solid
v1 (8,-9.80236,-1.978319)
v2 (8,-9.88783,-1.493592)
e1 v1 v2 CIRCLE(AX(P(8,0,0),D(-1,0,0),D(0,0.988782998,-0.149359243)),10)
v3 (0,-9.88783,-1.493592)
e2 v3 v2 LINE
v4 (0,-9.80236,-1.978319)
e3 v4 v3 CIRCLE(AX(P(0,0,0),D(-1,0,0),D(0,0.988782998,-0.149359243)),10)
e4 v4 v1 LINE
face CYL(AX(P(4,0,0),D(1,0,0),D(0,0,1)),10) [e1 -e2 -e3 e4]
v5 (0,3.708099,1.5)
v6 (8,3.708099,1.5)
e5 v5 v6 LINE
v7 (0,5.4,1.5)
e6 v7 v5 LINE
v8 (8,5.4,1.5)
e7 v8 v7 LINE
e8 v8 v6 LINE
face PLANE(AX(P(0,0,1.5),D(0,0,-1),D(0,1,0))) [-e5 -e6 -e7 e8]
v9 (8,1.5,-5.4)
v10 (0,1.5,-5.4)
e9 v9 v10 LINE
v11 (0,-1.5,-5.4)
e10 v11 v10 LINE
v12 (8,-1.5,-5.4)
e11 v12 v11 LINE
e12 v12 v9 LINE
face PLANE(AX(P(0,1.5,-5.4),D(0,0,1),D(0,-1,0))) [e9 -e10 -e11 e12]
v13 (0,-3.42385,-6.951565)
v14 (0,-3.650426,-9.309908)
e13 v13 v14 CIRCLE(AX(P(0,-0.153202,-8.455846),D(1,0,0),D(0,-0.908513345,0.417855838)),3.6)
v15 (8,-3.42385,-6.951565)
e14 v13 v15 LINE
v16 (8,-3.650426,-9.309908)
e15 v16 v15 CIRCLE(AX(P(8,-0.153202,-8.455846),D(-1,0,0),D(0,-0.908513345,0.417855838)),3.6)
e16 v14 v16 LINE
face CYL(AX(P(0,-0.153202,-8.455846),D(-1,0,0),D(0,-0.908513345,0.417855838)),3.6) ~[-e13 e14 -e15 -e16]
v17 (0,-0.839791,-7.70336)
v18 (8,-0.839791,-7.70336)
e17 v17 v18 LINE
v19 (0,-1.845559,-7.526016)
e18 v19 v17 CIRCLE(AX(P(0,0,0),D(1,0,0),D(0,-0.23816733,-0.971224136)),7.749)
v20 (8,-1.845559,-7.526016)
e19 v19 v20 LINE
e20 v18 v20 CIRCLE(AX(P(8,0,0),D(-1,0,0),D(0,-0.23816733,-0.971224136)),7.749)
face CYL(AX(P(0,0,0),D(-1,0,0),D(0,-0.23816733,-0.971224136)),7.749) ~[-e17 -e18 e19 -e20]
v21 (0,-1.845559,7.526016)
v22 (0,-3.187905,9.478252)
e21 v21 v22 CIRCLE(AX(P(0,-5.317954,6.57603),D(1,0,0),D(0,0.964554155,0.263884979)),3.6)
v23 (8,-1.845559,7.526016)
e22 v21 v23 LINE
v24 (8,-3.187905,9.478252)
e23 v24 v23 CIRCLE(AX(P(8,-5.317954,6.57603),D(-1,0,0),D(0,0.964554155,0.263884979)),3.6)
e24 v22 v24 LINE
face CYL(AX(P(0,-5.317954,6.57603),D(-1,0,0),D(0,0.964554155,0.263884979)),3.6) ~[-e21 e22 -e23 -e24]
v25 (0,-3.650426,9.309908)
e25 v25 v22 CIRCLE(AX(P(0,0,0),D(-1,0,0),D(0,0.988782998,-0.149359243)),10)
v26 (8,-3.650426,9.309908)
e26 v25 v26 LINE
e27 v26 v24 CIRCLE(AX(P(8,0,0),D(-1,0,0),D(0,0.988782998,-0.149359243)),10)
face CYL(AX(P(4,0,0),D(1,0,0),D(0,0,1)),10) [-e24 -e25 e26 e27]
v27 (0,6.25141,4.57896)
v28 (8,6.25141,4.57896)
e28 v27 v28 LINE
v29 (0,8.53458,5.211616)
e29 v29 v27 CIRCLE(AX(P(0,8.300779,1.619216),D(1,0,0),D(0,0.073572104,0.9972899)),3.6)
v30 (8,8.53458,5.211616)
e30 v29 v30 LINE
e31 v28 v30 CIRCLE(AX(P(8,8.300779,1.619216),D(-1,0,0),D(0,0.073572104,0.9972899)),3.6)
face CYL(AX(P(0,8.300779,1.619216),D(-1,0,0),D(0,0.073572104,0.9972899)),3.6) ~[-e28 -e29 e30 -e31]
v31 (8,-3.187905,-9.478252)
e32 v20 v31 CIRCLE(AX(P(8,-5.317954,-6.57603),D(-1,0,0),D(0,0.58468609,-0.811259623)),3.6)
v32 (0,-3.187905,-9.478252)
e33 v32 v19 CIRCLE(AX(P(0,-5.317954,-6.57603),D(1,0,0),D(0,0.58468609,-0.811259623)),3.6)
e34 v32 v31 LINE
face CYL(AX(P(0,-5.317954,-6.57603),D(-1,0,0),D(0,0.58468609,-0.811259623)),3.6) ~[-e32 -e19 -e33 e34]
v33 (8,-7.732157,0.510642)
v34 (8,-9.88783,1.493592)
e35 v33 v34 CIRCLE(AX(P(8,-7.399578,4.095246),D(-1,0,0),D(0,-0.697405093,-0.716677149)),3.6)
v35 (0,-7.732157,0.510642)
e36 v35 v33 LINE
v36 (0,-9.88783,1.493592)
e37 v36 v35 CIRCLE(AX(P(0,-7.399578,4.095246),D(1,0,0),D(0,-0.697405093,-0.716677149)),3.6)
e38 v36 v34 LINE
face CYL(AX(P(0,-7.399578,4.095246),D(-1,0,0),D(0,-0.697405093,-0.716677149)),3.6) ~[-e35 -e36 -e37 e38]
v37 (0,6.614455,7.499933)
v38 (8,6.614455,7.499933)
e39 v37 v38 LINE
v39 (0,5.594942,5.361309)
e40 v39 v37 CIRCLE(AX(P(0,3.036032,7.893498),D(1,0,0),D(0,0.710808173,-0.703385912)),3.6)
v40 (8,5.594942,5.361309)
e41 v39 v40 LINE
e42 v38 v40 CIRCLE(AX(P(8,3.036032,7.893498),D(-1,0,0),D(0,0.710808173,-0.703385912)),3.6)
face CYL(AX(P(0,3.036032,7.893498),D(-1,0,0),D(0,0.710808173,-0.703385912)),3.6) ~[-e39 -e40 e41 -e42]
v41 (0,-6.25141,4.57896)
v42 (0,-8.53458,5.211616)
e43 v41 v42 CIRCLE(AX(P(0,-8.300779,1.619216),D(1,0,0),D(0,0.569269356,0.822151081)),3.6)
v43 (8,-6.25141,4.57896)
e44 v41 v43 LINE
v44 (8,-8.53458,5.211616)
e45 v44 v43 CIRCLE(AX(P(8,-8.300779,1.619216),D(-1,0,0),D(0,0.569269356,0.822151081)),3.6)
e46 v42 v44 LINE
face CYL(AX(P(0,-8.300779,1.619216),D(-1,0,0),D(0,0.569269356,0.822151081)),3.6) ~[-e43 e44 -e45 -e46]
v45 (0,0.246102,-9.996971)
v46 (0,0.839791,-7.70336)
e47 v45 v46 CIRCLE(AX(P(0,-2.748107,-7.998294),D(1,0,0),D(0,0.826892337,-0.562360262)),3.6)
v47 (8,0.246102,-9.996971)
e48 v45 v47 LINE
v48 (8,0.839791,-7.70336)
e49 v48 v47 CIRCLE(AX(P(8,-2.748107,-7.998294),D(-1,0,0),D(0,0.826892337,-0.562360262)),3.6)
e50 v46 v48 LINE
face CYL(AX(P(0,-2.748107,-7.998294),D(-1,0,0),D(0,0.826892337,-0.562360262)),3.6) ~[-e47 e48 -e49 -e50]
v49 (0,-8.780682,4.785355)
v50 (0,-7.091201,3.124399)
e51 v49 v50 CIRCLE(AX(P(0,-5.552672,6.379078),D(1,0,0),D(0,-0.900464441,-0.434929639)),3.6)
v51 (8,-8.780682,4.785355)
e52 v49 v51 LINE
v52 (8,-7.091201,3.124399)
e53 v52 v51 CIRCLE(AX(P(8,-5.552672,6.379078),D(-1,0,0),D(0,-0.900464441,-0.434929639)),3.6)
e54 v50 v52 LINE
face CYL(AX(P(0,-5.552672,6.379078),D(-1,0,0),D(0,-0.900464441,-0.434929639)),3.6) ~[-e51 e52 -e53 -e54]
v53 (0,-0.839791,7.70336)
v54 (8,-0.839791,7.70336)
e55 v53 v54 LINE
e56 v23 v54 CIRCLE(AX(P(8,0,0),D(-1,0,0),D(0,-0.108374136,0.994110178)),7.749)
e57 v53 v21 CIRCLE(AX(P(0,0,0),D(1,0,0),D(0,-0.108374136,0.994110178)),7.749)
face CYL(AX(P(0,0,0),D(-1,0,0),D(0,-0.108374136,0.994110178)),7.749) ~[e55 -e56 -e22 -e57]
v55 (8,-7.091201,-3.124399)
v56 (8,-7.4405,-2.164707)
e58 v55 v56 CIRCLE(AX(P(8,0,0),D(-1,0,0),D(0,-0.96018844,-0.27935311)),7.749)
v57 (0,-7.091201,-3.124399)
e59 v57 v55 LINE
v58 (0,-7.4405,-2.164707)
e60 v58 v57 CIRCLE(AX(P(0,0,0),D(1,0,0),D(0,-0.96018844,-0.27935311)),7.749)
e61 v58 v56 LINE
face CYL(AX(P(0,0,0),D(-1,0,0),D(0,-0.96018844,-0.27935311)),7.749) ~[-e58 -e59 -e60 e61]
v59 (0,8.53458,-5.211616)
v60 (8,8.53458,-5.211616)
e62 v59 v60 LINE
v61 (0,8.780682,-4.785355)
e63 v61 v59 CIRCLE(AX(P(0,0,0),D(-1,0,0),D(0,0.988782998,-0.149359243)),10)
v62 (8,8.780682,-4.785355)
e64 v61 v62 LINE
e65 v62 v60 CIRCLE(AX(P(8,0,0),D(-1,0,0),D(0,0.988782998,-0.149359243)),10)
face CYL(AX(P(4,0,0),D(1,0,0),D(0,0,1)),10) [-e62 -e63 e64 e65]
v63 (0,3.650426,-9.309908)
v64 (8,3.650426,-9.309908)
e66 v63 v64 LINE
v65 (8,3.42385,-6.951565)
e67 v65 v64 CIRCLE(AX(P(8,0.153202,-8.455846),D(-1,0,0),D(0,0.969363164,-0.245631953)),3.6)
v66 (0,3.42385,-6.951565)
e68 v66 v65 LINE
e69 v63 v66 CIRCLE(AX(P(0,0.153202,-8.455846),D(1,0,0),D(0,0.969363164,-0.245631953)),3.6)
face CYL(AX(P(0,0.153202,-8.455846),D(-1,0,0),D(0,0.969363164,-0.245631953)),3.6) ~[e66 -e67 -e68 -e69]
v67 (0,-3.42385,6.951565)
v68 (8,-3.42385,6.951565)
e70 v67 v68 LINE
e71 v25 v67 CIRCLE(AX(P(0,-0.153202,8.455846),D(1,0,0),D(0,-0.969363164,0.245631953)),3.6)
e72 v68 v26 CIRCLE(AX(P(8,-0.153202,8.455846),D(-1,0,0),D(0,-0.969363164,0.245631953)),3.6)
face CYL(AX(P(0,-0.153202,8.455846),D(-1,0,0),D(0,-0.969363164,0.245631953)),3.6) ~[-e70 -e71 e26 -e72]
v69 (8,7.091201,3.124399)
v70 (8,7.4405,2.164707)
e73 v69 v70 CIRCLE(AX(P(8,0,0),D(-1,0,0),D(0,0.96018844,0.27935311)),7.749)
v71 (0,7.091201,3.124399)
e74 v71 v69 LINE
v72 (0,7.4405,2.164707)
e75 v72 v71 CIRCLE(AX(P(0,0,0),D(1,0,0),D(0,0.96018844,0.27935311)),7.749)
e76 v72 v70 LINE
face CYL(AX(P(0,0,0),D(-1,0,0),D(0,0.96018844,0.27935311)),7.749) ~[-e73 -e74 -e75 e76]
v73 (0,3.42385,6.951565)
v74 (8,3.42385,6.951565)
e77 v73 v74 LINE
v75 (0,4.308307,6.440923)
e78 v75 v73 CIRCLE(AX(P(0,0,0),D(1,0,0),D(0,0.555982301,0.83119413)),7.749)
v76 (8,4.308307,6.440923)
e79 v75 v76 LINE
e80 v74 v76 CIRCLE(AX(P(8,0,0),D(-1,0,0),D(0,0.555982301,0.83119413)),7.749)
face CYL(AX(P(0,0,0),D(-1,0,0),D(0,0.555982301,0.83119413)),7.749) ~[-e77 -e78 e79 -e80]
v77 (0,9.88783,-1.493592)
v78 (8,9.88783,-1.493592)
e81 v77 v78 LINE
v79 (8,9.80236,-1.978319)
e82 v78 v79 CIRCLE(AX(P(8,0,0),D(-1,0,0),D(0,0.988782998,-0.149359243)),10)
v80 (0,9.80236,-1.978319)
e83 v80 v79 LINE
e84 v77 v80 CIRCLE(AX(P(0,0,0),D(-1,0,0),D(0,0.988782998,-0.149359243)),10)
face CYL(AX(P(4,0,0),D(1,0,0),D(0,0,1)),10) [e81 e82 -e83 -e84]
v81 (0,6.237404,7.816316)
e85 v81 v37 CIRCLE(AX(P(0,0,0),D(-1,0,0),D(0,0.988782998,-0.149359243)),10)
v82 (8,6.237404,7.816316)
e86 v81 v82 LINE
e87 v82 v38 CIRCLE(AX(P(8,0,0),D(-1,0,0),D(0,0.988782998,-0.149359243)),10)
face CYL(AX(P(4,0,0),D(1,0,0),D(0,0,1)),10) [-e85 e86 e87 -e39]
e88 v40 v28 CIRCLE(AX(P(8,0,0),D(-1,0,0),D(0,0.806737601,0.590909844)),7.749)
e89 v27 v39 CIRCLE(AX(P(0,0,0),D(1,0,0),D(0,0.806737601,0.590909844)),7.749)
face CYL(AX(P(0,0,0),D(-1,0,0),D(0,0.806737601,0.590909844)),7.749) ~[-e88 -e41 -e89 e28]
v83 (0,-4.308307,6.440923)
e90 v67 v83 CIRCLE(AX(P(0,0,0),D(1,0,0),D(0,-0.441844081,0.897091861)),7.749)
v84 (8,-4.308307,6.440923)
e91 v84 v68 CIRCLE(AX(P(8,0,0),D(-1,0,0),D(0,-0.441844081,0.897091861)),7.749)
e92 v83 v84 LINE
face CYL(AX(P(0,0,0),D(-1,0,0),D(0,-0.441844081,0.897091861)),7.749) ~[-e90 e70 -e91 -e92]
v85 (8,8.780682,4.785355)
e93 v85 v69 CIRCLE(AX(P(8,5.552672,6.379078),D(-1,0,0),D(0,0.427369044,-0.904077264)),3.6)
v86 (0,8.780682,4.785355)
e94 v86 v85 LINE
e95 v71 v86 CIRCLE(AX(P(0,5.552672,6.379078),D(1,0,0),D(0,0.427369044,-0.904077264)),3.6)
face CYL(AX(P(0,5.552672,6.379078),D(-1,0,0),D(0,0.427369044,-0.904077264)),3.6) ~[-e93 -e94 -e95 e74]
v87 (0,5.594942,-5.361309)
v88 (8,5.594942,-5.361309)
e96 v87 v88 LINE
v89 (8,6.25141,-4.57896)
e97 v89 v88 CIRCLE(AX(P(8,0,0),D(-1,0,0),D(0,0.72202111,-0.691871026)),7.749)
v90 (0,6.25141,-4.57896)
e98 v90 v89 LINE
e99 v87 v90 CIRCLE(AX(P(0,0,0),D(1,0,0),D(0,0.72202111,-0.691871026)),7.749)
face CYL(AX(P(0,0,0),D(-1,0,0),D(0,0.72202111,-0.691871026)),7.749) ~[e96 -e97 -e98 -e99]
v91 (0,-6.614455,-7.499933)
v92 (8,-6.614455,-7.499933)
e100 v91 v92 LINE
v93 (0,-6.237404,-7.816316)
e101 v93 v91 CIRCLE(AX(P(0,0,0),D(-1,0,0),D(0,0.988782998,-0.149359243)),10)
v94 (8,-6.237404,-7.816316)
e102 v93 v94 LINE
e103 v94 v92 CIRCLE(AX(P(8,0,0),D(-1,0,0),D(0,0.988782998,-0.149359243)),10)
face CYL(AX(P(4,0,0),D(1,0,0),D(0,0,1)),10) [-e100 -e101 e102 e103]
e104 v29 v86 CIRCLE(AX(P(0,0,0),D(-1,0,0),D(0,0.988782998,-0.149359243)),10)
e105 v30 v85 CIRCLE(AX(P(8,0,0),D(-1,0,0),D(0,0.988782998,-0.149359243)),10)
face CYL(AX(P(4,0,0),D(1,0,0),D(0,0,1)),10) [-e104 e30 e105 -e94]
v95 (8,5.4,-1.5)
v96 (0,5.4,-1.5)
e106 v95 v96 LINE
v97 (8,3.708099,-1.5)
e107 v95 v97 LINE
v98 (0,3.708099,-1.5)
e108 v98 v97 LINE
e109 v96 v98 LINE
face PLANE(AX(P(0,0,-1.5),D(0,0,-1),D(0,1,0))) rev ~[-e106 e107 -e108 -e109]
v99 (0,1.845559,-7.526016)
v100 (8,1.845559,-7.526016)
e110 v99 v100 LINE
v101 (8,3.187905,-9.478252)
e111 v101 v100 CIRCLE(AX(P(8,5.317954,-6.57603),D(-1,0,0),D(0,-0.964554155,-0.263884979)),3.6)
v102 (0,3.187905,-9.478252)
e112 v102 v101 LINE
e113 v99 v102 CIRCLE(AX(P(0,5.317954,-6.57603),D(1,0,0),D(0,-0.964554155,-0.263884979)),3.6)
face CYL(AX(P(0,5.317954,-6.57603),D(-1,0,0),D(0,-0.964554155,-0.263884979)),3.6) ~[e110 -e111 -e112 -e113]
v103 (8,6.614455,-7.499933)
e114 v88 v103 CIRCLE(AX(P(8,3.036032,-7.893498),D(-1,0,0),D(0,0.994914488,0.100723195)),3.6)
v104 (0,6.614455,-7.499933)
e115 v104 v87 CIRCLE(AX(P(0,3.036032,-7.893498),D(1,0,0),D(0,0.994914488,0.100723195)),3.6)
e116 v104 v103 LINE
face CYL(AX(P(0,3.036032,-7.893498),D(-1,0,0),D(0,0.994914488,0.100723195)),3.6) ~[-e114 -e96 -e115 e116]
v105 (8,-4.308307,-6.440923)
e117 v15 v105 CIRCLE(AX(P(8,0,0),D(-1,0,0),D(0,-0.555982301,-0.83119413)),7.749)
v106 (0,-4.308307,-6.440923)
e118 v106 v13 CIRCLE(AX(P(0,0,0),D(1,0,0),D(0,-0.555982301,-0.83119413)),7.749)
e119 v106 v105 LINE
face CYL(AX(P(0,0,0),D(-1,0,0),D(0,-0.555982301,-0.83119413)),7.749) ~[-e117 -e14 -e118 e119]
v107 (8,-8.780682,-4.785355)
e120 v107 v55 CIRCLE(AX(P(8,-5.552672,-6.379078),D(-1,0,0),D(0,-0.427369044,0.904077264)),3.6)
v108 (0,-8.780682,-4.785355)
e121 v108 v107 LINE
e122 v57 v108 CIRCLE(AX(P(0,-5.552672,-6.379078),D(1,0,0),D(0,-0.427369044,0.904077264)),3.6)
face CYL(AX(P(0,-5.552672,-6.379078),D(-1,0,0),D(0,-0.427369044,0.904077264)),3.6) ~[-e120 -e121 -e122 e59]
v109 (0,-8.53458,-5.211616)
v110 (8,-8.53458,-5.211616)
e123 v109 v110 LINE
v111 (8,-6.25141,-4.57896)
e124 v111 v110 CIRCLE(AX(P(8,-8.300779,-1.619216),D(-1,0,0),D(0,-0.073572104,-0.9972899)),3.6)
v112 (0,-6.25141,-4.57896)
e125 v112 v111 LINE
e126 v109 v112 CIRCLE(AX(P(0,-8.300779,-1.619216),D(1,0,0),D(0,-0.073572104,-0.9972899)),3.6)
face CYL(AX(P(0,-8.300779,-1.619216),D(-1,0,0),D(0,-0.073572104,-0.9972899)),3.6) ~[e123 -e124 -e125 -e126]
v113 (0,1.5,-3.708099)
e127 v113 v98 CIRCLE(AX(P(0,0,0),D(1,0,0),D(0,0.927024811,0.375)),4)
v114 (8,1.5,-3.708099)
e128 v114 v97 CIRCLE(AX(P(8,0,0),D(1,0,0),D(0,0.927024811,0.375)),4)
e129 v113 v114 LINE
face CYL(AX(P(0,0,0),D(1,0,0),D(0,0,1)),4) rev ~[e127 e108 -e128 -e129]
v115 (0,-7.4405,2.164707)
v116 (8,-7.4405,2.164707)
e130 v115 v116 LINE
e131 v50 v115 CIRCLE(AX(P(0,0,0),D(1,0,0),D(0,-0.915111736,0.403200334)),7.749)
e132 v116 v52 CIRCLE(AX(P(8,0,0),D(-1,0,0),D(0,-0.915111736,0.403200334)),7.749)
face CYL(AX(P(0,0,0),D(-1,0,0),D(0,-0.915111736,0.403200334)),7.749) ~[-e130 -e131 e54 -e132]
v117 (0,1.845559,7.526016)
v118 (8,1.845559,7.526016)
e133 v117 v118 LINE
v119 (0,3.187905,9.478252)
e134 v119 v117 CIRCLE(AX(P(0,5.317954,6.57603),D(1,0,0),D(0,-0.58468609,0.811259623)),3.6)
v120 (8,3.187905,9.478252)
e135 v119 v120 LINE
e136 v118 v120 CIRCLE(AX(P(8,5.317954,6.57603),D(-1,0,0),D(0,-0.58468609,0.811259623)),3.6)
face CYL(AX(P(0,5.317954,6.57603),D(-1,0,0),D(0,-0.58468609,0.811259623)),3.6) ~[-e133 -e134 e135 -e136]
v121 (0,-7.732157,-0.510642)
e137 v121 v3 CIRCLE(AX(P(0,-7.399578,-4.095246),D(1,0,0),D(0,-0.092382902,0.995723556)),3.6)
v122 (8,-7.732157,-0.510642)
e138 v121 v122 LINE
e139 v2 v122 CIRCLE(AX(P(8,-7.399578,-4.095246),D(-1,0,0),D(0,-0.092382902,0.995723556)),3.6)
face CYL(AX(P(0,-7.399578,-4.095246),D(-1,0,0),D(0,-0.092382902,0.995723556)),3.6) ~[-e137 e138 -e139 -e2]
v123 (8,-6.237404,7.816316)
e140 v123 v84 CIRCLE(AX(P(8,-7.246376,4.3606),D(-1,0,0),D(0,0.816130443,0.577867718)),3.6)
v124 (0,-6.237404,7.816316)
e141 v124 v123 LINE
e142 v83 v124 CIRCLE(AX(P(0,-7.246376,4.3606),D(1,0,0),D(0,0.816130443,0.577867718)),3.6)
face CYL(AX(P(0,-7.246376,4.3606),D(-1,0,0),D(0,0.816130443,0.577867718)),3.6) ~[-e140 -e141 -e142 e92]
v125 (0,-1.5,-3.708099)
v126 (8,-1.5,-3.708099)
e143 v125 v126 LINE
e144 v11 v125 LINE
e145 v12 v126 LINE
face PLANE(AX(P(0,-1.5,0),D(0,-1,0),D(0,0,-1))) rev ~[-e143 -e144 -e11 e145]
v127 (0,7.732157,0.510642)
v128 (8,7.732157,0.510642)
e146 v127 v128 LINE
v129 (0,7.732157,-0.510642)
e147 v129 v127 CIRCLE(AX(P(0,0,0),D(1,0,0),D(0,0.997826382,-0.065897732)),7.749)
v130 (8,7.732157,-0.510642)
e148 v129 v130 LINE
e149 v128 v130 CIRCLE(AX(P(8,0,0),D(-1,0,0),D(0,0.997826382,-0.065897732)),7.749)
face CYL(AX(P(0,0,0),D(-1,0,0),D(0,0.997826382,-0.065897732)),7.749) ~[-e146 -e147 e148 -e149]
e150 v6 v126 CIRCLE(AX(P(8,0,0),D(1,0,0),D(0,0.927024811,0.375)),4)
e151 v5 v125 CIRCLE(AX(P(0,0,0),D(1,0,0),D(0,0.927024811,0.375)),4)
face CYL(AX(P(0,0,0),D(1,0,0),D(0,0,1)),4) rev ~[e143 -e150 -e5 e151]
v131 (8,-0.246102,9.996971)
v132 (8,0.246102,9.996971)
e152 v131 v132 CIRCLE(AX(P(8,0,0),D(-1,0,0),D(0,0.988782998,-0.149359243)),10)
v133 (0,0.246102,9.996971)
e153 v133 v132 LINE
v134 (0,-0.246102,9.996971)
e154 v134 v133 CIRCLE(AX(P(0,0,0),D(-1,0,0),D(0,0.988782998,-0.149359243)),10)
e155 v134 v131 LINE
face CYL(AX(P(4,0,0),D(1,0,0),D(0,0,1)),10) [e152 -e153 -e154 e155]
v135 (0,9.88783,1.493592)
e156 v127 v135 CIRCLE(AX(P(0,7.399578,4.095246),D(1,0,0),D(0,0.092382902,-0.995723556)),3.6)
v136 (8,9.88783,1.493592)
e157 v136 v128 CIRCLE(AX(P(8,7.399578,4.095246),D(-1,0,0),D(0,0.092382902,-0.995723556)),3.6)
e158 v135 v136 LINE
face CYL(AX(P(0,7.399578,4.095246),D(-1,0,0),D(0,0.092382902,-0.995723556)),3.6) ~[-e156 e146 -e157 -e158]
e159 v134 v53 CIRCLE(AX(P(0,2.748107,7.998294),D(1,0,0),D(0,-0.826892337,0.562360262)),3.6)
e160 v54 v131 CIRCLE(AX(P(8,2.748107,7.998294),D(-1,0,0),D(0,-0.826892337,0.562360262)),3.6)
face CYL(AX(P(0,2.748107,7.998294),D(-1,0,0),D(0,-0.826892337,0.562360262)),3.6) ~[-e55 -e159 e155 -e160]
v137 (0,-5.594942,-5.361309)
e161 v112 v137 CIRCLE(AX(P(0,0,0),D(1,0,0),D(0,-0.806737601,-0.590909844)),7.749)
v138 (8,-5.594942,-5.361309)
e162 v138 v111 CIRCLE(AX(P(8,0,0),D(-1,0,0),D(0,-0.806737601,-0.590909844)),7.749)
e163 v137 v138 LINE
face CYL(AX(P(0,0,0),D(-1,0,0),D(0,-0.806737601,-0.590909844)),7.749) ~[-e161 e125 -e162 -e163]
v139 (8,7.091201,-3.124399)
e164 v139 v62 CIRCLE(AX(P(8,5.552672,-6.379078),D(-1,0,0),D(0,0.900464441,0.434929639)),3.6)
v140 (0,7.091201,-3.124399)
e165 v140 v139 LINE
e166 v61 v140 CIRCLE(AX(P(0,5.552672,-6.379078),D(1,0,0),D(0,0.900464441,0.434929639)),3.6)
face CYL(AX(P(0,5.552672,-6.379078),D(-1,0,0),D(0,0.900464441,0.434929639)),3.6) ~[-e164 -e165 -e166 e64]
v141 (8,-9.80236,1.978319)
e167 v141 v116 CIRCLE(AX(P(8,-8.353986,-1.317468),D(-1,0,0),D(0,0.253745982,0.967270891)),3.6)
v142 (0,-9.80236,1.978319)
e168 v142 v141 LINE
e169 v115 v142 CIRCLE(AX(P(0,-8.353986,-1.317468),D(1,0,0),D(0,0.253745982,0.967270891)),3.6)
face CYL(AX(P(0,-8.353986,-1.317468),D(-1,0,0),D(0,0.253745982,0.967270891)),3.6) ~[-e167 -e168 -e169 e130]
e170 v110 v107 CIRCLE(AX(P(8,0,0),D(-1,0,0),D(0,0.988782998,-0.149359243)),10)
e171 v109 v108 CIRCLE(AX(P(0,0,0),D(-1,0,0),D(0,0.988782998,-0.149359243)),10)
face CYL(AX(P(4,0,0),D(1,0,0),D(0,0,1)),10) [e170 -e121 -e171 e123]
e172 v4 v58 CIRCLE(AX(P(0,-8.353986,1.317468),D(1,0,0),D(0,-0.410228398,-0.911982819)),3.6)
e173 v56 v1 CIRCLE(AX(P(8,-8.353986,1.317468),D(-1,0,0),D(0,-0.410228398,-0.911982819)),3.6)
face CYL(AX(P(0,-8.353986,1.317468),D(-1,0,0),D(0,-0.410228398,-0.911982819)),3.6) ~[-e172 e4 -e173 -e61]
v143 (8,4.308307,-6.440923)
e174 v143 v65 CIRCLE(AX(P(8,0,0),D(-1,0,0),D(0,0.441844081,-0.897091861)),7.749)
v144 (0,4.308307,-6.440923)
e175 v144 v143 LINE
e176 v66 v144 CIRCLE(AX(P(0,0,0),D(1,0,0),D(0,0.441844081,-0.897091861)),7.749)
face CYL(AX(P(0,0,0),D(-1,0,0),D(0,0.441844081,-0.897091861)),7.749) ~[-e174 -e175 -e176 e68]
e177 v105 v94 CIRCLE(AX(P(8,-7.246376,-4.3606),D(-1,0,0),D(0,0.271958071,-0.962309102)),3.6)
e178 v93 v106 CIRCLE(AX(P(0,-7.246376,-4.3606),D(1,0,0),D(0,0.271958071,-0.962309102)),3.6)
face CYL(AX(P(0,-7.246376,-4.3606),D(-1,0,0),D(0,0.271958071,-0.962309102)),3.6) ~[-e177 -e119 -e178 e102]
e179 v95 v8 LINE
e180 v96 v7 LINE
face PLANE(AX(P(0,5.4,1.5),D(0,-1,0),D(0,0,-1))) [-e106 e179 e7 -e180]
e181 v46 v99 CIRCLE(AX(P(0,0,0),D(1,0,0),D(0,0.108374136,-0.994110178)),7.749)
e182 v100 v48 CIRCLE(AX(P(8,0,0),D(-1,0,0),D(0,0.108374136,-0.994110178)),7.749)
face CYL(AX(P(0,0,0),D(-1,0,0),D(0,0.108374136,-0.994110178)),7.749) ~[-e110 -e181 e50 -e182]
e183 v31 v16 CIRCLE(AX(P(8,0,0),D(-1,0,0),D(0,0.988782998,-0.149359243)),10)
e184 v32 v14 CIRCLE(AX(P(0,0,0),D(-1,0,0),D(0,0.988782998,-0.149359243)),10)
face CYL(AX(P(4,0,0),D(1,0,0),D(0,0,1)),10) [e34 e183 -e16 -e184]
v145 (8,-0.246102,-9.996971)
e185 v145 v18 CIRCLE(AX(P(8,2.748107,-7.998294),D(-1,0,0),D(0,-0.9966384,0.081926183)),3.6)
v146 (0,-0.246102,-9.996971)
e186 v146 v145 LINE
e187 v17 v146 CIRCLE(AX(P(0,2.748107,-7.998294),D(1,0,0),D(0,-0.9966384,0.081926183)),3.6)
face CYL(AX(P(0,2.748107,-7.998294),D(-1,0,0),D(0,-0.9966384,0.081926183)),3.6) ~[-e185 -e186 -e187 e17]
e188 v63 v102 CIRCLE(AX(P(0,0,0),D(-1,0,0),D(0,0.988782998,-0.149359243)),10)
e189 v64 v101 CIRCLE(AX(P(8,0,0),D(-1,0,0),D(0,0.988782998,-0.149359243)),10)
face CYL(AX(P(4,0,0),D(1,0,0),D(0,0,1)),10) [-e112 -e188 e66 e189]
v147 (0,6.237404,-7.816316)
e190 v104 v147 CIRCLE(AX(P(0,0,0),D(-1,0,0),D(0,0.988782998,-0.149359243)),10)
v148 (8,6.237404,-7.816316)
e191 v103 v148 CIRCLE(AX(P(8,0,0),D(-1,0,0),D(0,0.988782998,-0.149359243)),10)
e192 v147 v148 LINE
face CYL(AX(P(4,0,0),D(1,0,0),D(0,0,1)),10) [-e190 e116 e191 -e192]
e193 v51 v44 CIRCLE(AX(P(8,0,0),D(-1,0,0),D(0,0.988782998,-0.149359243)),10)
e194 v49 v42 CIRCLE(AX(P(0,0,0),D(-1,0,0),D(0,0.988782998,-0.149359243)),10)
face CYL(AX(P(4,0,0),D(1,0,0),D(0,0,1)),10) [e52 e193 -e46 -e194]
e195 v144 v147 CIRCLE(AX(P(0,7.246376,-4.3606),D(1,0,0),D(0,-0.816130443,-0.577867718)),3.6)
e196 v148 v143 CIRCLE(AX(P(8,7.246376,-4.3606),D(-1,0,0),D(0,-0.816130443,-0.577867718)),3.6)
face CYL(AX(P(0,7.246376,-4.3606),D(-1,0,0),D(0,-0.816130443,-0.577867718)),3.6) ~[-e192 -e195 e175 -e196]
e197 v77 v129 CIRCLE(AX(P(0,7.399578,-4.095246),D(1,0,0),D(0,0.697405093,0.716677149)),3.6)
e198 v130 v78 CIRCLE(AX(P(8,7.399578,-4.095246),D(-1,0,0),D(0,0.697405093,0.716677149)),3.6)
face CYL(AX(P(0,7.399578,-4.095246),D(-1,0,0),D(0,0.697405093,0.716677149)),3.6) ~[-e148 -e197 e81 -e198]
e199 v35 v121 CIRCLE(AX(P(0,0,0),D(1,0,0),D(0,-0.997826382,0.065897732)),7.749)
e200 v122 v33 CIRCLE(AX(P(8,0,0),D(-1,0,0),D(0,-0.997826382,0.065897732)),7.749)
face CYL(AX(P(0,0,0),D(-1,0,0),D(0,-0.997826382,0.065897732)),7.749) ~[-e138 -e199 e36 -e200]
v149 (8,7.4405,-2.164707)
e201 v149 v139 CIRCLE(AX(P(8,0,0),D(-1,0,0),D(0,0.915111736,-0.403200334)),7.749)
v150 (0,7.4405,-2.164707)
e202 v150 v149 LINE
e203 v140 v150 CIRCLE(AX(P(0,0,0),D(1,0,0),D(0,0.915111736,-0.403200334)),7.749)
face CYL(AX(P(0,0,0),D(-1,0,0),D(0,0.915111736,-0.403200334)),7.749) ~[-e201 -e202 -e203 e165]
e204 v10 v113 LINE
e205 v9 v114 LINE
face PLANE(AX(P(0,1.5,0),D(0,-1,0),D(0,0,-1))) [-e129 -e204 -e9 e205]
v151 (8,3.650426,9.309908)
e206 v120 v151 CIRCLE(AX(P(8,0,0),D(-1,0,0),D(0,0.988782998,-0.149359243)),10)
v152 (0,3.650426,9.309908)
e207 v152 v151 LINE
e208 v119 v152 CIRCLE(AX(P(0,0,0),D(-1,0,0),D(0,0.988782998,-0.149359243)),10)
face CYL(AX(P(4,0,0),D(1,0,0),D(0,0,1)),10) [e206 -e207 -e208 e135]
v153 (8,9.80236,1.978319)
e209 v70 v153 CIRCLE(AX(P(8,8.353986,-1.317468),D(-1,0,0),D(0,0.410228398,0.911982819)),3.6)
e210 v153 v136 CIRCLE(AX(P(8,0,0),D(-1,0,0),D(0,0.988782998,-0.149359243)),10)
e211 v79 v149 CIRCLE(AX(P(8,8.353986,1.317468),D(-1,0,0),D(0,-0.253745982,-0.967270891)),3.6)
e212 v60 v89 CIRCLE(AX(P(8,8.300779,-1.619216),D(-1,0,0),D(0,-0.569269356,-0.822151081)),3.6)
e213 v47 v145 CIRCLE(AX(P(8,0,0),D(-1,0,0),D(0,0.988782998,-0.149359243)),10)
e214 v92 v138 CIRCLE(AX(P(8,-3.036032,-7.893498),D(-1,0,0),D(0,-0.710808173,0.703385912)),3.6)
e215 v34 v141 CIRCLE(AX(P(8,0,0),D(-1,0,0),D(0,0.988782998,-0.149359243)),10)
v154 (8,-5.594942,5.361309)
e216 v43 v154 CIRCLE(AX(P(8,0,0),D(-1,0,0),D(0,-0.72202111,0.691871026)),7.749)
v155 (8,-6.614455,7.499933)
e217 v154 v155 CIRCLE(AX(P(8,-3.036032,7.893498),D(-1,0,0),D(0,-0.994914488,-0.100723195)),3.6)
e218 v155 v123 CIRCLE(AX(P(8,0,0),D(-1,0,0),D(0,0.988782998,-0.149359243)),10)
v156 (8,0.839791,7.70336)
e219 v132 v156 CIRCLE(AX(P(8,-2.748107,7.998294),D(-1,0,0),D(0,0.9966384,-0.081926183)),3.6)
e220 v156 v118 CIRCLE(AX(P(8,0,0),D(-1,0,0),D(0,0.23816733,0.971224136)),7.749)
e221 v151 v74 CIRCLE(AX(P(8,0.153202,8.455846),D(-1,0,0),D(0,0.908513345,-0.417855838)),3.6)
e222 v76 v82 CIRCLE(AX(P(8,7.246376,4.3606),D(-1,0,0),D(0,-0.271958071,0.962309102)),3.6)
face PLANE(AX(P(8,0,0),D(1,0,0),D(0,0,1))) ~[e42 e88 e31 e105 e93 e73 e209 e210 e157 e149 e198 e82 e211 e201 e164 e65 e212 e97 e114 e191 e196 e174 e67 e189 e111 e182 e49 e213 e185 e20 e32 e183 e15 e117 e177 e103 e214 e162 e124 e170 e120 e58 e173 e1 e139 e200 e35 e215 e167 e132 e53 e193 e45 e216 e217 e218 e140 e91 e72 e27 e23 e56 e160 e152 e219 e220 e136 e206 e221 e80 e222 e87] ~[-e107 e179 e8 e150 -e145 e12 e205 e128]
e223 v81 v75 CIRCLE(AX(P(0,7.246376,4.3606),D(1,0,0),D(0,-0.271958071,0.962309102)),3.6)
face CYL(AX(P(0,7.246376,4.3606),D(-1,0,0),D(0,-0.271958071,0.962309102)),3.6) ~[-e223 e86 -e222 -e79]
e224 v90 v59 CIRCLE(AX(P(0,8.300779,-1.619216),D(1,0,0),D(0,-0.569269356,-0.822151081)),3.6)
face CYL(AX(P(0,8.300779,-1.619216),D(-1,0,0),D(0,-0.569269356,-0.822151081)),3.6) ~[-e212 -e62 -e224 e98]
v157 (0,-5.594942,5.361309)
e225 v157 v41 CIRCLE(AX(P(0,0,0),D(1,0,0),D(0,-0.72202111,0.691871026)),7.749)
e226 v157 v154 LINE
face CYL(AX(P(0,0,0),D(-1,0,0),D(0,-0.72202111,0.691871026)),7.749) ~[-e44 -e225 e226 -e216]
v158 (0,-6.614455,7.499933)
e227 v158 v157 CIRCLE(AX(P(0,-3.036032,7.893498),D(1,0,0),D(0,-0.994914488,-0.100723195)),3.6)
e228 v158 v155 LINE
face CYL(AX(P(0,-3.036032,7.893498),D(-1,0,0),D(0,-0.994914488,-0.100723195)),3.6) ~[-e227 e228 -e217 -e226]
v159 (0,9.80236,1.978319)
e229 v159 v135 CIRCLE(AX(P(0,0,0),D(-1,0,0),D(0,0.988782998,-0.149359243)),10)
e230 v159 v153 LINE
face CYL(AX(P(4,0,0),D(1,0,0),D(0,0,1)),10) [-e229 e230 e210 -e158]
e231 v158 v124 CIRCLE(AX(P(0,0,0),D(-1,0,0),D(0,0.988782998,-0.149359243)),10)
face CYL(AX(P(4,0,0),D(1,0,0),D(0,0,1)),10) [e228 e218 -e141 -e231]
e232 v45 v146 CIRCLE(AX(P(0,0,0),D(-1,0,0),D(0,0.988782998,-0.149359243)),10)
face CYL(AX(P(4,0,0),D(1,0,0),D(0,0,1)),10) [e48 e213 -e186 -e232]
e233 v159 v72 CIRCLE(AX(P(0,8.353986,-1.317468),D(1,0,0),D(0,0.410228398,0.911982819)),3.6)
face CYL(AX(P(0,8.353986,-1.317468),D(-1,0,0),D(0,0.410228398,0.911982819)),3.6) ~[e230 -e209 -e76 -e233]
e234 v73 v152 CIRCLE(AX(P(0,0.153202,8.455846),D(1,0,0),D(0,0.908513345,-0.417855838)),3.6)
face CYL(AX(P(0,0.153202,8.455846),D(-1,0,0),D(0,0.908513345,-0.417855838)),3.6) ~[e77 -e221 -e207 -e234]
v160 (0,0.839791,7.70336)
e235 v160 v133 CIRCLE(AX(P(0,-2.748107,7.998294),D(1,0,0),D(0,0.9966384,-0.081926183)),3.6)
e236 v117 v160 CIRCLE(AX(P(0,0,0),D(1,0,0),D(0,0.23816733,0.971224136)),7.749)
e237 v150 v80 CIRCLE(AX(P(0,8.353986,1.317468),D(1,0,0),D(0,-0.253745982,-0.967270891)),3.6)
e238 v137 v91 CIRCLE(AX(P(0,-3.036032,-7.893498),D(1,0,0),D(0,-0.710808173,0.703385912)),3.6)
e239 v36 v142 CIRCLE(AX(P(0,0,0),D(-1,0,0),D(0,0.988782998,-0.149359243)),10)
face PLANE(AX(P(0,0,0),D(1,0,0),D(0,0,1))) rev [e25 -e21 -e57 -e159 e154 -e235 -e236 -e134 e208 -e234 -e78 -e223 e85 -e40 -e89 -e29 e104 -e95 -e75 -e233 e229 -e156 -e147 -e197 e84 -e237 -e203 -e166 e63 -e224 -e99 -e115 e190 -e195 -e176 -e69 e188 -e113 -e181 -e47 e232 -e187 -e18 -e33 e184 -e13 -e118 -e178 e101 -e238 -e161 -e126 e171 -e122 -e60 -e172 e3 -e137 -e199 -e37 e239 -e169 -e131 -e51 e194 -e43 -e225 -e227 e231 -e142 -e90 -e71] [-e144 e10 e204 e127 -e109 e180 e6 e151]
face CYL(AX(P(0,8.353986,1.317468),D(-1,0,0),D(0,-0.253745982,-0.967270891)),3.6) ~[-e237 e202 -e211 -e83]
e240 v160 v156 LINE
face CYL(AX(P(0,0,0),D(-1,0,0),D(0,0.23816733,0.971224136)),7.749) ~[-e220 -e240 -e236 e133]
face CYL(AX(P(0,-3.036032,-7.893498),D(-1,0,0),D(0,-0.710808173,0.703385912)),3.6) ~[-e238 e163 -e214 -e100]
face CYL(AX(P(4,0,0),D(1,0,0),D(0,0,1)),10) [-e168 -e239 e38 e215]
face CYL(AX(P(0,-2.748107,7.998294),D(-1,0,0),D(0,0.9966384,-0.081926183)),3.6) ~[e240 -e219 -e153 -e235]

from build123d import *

# Parameters (mm, degrees)
BASPROSKE_W     = 8
BASPROSKE_H     = 10
TOOTHCUT_DEPTH  = 17.248076809
TEETHCUTS_COUNT = 18
TEETHCUTS_ANGLE = 340
BORSKE_R        = 4
BORE_DEPTH      = 50.0000508
KEYSKE_W        = 3
KEYSKE_H        = 5.4
KEYWAY_DEPTH    = 50.0000508
KEYWAY2_COUNT   = 2
KEYWAY2_ANGLE   = 90


with BuildPart() as part:
    # BasProSke → Base-Revolve (revolve)
    with BuildSketch(Plane(origin=(0, 0, 0), x_dir=(1, 0, 0), z_dir=(0, 1, 0)), mode=Mode.PRIVATE) as base_revolve_sk:
        with Locations((4, 5)):
            Rectangle(BASPROSKE_W, BASPROSKE_H)
    revolve(base_revolve_sk.sketch.rotate(Axis((-10, 0, 0), (1, 0, 0)), 180), axis=Axis((-10, 0, 0), (1, 0, 0)))

    # TooCutSke → ToothCut (cut, through all)
    with BuildSketch(Plane(origin=(0, 0, 0), x_dir=(0, 0, -1), z_dir=(1, 0, 0))):
        with BuildLine():
            ThreePointArc((0.510641536, 7.732156635), (0, 7.749), (-0.510641536, 7.732156635))
            ThreePointArc((-0.510641536, 7.732156635), (-0.82619259, 8.907320741), (-1.515208602, 9.910236529))
            ThreePointArc((-1.515208602, 9.910236529), (0, 10.0254), (1.515208602, 9.910236529))
            ThreePointArc((1.515208602, 9.910236529), (0.82619259, 8.907320741), (0.510641536, 7.732156635))
        make_face()
    toothcut = extrude(amount=TOOTHCUT_DEPTH, mode=Mode.SUBTRACT)

    # TeethCuts: ToothCut ×18 about axis
    teethcuts_axis = Axis((-10, 0, 0), (1, 0, 0))
    for i in range(1, TEETHCUTS_COUNT):
        add(toothcut.rotate(teethcuts_axis, i * TEETHCUTS_ANGLE / (TEETHCUTS_COUNT - 1)), mode=Mode.SUBTRACT)

    # BorSke → Bore (cut, symmetric)
    with BuildSketch(Plane(origin=(0, 0, 0), x_dir=(0, 0, -1), z_dir=(1, 0, 0))):
        with Locations(Location((0, 0, 0), (0, 0, 180))):
            Circle(BORSKE_R)
    extrude(amount=BORE_DEPTH, both=True, mode=Mode.SUBTRACT)

    # KeySke → Keyway (cut, symmetric)
    with BuildSketch(Plane(origin=(0, 0, 0), x_dir=(0, 0, -1), z_dir=(1, 0, 0))):
        with Locations((0, 2.7)):
            Rectangle(KEYSKE_W, KEYSKE_H)
    keyway = extrude(amount=KEYWAY_DEPTH, both=True, mode=Mode.SUBTRACT)

    # Keyway2: Keyway ×2 about axis
    keyway2_axis = Axis((0, 0, 0), (-1, 0, 0))
    for i in range(1, KEYWAY2_COUNT):
        add(keyway.rotate(keyway2_axis, i * KEYWAY2_ANGLE / (KEYWAY2_COUNT - 1)), mode=Mode.SUBTRACT)


solid = part.part
